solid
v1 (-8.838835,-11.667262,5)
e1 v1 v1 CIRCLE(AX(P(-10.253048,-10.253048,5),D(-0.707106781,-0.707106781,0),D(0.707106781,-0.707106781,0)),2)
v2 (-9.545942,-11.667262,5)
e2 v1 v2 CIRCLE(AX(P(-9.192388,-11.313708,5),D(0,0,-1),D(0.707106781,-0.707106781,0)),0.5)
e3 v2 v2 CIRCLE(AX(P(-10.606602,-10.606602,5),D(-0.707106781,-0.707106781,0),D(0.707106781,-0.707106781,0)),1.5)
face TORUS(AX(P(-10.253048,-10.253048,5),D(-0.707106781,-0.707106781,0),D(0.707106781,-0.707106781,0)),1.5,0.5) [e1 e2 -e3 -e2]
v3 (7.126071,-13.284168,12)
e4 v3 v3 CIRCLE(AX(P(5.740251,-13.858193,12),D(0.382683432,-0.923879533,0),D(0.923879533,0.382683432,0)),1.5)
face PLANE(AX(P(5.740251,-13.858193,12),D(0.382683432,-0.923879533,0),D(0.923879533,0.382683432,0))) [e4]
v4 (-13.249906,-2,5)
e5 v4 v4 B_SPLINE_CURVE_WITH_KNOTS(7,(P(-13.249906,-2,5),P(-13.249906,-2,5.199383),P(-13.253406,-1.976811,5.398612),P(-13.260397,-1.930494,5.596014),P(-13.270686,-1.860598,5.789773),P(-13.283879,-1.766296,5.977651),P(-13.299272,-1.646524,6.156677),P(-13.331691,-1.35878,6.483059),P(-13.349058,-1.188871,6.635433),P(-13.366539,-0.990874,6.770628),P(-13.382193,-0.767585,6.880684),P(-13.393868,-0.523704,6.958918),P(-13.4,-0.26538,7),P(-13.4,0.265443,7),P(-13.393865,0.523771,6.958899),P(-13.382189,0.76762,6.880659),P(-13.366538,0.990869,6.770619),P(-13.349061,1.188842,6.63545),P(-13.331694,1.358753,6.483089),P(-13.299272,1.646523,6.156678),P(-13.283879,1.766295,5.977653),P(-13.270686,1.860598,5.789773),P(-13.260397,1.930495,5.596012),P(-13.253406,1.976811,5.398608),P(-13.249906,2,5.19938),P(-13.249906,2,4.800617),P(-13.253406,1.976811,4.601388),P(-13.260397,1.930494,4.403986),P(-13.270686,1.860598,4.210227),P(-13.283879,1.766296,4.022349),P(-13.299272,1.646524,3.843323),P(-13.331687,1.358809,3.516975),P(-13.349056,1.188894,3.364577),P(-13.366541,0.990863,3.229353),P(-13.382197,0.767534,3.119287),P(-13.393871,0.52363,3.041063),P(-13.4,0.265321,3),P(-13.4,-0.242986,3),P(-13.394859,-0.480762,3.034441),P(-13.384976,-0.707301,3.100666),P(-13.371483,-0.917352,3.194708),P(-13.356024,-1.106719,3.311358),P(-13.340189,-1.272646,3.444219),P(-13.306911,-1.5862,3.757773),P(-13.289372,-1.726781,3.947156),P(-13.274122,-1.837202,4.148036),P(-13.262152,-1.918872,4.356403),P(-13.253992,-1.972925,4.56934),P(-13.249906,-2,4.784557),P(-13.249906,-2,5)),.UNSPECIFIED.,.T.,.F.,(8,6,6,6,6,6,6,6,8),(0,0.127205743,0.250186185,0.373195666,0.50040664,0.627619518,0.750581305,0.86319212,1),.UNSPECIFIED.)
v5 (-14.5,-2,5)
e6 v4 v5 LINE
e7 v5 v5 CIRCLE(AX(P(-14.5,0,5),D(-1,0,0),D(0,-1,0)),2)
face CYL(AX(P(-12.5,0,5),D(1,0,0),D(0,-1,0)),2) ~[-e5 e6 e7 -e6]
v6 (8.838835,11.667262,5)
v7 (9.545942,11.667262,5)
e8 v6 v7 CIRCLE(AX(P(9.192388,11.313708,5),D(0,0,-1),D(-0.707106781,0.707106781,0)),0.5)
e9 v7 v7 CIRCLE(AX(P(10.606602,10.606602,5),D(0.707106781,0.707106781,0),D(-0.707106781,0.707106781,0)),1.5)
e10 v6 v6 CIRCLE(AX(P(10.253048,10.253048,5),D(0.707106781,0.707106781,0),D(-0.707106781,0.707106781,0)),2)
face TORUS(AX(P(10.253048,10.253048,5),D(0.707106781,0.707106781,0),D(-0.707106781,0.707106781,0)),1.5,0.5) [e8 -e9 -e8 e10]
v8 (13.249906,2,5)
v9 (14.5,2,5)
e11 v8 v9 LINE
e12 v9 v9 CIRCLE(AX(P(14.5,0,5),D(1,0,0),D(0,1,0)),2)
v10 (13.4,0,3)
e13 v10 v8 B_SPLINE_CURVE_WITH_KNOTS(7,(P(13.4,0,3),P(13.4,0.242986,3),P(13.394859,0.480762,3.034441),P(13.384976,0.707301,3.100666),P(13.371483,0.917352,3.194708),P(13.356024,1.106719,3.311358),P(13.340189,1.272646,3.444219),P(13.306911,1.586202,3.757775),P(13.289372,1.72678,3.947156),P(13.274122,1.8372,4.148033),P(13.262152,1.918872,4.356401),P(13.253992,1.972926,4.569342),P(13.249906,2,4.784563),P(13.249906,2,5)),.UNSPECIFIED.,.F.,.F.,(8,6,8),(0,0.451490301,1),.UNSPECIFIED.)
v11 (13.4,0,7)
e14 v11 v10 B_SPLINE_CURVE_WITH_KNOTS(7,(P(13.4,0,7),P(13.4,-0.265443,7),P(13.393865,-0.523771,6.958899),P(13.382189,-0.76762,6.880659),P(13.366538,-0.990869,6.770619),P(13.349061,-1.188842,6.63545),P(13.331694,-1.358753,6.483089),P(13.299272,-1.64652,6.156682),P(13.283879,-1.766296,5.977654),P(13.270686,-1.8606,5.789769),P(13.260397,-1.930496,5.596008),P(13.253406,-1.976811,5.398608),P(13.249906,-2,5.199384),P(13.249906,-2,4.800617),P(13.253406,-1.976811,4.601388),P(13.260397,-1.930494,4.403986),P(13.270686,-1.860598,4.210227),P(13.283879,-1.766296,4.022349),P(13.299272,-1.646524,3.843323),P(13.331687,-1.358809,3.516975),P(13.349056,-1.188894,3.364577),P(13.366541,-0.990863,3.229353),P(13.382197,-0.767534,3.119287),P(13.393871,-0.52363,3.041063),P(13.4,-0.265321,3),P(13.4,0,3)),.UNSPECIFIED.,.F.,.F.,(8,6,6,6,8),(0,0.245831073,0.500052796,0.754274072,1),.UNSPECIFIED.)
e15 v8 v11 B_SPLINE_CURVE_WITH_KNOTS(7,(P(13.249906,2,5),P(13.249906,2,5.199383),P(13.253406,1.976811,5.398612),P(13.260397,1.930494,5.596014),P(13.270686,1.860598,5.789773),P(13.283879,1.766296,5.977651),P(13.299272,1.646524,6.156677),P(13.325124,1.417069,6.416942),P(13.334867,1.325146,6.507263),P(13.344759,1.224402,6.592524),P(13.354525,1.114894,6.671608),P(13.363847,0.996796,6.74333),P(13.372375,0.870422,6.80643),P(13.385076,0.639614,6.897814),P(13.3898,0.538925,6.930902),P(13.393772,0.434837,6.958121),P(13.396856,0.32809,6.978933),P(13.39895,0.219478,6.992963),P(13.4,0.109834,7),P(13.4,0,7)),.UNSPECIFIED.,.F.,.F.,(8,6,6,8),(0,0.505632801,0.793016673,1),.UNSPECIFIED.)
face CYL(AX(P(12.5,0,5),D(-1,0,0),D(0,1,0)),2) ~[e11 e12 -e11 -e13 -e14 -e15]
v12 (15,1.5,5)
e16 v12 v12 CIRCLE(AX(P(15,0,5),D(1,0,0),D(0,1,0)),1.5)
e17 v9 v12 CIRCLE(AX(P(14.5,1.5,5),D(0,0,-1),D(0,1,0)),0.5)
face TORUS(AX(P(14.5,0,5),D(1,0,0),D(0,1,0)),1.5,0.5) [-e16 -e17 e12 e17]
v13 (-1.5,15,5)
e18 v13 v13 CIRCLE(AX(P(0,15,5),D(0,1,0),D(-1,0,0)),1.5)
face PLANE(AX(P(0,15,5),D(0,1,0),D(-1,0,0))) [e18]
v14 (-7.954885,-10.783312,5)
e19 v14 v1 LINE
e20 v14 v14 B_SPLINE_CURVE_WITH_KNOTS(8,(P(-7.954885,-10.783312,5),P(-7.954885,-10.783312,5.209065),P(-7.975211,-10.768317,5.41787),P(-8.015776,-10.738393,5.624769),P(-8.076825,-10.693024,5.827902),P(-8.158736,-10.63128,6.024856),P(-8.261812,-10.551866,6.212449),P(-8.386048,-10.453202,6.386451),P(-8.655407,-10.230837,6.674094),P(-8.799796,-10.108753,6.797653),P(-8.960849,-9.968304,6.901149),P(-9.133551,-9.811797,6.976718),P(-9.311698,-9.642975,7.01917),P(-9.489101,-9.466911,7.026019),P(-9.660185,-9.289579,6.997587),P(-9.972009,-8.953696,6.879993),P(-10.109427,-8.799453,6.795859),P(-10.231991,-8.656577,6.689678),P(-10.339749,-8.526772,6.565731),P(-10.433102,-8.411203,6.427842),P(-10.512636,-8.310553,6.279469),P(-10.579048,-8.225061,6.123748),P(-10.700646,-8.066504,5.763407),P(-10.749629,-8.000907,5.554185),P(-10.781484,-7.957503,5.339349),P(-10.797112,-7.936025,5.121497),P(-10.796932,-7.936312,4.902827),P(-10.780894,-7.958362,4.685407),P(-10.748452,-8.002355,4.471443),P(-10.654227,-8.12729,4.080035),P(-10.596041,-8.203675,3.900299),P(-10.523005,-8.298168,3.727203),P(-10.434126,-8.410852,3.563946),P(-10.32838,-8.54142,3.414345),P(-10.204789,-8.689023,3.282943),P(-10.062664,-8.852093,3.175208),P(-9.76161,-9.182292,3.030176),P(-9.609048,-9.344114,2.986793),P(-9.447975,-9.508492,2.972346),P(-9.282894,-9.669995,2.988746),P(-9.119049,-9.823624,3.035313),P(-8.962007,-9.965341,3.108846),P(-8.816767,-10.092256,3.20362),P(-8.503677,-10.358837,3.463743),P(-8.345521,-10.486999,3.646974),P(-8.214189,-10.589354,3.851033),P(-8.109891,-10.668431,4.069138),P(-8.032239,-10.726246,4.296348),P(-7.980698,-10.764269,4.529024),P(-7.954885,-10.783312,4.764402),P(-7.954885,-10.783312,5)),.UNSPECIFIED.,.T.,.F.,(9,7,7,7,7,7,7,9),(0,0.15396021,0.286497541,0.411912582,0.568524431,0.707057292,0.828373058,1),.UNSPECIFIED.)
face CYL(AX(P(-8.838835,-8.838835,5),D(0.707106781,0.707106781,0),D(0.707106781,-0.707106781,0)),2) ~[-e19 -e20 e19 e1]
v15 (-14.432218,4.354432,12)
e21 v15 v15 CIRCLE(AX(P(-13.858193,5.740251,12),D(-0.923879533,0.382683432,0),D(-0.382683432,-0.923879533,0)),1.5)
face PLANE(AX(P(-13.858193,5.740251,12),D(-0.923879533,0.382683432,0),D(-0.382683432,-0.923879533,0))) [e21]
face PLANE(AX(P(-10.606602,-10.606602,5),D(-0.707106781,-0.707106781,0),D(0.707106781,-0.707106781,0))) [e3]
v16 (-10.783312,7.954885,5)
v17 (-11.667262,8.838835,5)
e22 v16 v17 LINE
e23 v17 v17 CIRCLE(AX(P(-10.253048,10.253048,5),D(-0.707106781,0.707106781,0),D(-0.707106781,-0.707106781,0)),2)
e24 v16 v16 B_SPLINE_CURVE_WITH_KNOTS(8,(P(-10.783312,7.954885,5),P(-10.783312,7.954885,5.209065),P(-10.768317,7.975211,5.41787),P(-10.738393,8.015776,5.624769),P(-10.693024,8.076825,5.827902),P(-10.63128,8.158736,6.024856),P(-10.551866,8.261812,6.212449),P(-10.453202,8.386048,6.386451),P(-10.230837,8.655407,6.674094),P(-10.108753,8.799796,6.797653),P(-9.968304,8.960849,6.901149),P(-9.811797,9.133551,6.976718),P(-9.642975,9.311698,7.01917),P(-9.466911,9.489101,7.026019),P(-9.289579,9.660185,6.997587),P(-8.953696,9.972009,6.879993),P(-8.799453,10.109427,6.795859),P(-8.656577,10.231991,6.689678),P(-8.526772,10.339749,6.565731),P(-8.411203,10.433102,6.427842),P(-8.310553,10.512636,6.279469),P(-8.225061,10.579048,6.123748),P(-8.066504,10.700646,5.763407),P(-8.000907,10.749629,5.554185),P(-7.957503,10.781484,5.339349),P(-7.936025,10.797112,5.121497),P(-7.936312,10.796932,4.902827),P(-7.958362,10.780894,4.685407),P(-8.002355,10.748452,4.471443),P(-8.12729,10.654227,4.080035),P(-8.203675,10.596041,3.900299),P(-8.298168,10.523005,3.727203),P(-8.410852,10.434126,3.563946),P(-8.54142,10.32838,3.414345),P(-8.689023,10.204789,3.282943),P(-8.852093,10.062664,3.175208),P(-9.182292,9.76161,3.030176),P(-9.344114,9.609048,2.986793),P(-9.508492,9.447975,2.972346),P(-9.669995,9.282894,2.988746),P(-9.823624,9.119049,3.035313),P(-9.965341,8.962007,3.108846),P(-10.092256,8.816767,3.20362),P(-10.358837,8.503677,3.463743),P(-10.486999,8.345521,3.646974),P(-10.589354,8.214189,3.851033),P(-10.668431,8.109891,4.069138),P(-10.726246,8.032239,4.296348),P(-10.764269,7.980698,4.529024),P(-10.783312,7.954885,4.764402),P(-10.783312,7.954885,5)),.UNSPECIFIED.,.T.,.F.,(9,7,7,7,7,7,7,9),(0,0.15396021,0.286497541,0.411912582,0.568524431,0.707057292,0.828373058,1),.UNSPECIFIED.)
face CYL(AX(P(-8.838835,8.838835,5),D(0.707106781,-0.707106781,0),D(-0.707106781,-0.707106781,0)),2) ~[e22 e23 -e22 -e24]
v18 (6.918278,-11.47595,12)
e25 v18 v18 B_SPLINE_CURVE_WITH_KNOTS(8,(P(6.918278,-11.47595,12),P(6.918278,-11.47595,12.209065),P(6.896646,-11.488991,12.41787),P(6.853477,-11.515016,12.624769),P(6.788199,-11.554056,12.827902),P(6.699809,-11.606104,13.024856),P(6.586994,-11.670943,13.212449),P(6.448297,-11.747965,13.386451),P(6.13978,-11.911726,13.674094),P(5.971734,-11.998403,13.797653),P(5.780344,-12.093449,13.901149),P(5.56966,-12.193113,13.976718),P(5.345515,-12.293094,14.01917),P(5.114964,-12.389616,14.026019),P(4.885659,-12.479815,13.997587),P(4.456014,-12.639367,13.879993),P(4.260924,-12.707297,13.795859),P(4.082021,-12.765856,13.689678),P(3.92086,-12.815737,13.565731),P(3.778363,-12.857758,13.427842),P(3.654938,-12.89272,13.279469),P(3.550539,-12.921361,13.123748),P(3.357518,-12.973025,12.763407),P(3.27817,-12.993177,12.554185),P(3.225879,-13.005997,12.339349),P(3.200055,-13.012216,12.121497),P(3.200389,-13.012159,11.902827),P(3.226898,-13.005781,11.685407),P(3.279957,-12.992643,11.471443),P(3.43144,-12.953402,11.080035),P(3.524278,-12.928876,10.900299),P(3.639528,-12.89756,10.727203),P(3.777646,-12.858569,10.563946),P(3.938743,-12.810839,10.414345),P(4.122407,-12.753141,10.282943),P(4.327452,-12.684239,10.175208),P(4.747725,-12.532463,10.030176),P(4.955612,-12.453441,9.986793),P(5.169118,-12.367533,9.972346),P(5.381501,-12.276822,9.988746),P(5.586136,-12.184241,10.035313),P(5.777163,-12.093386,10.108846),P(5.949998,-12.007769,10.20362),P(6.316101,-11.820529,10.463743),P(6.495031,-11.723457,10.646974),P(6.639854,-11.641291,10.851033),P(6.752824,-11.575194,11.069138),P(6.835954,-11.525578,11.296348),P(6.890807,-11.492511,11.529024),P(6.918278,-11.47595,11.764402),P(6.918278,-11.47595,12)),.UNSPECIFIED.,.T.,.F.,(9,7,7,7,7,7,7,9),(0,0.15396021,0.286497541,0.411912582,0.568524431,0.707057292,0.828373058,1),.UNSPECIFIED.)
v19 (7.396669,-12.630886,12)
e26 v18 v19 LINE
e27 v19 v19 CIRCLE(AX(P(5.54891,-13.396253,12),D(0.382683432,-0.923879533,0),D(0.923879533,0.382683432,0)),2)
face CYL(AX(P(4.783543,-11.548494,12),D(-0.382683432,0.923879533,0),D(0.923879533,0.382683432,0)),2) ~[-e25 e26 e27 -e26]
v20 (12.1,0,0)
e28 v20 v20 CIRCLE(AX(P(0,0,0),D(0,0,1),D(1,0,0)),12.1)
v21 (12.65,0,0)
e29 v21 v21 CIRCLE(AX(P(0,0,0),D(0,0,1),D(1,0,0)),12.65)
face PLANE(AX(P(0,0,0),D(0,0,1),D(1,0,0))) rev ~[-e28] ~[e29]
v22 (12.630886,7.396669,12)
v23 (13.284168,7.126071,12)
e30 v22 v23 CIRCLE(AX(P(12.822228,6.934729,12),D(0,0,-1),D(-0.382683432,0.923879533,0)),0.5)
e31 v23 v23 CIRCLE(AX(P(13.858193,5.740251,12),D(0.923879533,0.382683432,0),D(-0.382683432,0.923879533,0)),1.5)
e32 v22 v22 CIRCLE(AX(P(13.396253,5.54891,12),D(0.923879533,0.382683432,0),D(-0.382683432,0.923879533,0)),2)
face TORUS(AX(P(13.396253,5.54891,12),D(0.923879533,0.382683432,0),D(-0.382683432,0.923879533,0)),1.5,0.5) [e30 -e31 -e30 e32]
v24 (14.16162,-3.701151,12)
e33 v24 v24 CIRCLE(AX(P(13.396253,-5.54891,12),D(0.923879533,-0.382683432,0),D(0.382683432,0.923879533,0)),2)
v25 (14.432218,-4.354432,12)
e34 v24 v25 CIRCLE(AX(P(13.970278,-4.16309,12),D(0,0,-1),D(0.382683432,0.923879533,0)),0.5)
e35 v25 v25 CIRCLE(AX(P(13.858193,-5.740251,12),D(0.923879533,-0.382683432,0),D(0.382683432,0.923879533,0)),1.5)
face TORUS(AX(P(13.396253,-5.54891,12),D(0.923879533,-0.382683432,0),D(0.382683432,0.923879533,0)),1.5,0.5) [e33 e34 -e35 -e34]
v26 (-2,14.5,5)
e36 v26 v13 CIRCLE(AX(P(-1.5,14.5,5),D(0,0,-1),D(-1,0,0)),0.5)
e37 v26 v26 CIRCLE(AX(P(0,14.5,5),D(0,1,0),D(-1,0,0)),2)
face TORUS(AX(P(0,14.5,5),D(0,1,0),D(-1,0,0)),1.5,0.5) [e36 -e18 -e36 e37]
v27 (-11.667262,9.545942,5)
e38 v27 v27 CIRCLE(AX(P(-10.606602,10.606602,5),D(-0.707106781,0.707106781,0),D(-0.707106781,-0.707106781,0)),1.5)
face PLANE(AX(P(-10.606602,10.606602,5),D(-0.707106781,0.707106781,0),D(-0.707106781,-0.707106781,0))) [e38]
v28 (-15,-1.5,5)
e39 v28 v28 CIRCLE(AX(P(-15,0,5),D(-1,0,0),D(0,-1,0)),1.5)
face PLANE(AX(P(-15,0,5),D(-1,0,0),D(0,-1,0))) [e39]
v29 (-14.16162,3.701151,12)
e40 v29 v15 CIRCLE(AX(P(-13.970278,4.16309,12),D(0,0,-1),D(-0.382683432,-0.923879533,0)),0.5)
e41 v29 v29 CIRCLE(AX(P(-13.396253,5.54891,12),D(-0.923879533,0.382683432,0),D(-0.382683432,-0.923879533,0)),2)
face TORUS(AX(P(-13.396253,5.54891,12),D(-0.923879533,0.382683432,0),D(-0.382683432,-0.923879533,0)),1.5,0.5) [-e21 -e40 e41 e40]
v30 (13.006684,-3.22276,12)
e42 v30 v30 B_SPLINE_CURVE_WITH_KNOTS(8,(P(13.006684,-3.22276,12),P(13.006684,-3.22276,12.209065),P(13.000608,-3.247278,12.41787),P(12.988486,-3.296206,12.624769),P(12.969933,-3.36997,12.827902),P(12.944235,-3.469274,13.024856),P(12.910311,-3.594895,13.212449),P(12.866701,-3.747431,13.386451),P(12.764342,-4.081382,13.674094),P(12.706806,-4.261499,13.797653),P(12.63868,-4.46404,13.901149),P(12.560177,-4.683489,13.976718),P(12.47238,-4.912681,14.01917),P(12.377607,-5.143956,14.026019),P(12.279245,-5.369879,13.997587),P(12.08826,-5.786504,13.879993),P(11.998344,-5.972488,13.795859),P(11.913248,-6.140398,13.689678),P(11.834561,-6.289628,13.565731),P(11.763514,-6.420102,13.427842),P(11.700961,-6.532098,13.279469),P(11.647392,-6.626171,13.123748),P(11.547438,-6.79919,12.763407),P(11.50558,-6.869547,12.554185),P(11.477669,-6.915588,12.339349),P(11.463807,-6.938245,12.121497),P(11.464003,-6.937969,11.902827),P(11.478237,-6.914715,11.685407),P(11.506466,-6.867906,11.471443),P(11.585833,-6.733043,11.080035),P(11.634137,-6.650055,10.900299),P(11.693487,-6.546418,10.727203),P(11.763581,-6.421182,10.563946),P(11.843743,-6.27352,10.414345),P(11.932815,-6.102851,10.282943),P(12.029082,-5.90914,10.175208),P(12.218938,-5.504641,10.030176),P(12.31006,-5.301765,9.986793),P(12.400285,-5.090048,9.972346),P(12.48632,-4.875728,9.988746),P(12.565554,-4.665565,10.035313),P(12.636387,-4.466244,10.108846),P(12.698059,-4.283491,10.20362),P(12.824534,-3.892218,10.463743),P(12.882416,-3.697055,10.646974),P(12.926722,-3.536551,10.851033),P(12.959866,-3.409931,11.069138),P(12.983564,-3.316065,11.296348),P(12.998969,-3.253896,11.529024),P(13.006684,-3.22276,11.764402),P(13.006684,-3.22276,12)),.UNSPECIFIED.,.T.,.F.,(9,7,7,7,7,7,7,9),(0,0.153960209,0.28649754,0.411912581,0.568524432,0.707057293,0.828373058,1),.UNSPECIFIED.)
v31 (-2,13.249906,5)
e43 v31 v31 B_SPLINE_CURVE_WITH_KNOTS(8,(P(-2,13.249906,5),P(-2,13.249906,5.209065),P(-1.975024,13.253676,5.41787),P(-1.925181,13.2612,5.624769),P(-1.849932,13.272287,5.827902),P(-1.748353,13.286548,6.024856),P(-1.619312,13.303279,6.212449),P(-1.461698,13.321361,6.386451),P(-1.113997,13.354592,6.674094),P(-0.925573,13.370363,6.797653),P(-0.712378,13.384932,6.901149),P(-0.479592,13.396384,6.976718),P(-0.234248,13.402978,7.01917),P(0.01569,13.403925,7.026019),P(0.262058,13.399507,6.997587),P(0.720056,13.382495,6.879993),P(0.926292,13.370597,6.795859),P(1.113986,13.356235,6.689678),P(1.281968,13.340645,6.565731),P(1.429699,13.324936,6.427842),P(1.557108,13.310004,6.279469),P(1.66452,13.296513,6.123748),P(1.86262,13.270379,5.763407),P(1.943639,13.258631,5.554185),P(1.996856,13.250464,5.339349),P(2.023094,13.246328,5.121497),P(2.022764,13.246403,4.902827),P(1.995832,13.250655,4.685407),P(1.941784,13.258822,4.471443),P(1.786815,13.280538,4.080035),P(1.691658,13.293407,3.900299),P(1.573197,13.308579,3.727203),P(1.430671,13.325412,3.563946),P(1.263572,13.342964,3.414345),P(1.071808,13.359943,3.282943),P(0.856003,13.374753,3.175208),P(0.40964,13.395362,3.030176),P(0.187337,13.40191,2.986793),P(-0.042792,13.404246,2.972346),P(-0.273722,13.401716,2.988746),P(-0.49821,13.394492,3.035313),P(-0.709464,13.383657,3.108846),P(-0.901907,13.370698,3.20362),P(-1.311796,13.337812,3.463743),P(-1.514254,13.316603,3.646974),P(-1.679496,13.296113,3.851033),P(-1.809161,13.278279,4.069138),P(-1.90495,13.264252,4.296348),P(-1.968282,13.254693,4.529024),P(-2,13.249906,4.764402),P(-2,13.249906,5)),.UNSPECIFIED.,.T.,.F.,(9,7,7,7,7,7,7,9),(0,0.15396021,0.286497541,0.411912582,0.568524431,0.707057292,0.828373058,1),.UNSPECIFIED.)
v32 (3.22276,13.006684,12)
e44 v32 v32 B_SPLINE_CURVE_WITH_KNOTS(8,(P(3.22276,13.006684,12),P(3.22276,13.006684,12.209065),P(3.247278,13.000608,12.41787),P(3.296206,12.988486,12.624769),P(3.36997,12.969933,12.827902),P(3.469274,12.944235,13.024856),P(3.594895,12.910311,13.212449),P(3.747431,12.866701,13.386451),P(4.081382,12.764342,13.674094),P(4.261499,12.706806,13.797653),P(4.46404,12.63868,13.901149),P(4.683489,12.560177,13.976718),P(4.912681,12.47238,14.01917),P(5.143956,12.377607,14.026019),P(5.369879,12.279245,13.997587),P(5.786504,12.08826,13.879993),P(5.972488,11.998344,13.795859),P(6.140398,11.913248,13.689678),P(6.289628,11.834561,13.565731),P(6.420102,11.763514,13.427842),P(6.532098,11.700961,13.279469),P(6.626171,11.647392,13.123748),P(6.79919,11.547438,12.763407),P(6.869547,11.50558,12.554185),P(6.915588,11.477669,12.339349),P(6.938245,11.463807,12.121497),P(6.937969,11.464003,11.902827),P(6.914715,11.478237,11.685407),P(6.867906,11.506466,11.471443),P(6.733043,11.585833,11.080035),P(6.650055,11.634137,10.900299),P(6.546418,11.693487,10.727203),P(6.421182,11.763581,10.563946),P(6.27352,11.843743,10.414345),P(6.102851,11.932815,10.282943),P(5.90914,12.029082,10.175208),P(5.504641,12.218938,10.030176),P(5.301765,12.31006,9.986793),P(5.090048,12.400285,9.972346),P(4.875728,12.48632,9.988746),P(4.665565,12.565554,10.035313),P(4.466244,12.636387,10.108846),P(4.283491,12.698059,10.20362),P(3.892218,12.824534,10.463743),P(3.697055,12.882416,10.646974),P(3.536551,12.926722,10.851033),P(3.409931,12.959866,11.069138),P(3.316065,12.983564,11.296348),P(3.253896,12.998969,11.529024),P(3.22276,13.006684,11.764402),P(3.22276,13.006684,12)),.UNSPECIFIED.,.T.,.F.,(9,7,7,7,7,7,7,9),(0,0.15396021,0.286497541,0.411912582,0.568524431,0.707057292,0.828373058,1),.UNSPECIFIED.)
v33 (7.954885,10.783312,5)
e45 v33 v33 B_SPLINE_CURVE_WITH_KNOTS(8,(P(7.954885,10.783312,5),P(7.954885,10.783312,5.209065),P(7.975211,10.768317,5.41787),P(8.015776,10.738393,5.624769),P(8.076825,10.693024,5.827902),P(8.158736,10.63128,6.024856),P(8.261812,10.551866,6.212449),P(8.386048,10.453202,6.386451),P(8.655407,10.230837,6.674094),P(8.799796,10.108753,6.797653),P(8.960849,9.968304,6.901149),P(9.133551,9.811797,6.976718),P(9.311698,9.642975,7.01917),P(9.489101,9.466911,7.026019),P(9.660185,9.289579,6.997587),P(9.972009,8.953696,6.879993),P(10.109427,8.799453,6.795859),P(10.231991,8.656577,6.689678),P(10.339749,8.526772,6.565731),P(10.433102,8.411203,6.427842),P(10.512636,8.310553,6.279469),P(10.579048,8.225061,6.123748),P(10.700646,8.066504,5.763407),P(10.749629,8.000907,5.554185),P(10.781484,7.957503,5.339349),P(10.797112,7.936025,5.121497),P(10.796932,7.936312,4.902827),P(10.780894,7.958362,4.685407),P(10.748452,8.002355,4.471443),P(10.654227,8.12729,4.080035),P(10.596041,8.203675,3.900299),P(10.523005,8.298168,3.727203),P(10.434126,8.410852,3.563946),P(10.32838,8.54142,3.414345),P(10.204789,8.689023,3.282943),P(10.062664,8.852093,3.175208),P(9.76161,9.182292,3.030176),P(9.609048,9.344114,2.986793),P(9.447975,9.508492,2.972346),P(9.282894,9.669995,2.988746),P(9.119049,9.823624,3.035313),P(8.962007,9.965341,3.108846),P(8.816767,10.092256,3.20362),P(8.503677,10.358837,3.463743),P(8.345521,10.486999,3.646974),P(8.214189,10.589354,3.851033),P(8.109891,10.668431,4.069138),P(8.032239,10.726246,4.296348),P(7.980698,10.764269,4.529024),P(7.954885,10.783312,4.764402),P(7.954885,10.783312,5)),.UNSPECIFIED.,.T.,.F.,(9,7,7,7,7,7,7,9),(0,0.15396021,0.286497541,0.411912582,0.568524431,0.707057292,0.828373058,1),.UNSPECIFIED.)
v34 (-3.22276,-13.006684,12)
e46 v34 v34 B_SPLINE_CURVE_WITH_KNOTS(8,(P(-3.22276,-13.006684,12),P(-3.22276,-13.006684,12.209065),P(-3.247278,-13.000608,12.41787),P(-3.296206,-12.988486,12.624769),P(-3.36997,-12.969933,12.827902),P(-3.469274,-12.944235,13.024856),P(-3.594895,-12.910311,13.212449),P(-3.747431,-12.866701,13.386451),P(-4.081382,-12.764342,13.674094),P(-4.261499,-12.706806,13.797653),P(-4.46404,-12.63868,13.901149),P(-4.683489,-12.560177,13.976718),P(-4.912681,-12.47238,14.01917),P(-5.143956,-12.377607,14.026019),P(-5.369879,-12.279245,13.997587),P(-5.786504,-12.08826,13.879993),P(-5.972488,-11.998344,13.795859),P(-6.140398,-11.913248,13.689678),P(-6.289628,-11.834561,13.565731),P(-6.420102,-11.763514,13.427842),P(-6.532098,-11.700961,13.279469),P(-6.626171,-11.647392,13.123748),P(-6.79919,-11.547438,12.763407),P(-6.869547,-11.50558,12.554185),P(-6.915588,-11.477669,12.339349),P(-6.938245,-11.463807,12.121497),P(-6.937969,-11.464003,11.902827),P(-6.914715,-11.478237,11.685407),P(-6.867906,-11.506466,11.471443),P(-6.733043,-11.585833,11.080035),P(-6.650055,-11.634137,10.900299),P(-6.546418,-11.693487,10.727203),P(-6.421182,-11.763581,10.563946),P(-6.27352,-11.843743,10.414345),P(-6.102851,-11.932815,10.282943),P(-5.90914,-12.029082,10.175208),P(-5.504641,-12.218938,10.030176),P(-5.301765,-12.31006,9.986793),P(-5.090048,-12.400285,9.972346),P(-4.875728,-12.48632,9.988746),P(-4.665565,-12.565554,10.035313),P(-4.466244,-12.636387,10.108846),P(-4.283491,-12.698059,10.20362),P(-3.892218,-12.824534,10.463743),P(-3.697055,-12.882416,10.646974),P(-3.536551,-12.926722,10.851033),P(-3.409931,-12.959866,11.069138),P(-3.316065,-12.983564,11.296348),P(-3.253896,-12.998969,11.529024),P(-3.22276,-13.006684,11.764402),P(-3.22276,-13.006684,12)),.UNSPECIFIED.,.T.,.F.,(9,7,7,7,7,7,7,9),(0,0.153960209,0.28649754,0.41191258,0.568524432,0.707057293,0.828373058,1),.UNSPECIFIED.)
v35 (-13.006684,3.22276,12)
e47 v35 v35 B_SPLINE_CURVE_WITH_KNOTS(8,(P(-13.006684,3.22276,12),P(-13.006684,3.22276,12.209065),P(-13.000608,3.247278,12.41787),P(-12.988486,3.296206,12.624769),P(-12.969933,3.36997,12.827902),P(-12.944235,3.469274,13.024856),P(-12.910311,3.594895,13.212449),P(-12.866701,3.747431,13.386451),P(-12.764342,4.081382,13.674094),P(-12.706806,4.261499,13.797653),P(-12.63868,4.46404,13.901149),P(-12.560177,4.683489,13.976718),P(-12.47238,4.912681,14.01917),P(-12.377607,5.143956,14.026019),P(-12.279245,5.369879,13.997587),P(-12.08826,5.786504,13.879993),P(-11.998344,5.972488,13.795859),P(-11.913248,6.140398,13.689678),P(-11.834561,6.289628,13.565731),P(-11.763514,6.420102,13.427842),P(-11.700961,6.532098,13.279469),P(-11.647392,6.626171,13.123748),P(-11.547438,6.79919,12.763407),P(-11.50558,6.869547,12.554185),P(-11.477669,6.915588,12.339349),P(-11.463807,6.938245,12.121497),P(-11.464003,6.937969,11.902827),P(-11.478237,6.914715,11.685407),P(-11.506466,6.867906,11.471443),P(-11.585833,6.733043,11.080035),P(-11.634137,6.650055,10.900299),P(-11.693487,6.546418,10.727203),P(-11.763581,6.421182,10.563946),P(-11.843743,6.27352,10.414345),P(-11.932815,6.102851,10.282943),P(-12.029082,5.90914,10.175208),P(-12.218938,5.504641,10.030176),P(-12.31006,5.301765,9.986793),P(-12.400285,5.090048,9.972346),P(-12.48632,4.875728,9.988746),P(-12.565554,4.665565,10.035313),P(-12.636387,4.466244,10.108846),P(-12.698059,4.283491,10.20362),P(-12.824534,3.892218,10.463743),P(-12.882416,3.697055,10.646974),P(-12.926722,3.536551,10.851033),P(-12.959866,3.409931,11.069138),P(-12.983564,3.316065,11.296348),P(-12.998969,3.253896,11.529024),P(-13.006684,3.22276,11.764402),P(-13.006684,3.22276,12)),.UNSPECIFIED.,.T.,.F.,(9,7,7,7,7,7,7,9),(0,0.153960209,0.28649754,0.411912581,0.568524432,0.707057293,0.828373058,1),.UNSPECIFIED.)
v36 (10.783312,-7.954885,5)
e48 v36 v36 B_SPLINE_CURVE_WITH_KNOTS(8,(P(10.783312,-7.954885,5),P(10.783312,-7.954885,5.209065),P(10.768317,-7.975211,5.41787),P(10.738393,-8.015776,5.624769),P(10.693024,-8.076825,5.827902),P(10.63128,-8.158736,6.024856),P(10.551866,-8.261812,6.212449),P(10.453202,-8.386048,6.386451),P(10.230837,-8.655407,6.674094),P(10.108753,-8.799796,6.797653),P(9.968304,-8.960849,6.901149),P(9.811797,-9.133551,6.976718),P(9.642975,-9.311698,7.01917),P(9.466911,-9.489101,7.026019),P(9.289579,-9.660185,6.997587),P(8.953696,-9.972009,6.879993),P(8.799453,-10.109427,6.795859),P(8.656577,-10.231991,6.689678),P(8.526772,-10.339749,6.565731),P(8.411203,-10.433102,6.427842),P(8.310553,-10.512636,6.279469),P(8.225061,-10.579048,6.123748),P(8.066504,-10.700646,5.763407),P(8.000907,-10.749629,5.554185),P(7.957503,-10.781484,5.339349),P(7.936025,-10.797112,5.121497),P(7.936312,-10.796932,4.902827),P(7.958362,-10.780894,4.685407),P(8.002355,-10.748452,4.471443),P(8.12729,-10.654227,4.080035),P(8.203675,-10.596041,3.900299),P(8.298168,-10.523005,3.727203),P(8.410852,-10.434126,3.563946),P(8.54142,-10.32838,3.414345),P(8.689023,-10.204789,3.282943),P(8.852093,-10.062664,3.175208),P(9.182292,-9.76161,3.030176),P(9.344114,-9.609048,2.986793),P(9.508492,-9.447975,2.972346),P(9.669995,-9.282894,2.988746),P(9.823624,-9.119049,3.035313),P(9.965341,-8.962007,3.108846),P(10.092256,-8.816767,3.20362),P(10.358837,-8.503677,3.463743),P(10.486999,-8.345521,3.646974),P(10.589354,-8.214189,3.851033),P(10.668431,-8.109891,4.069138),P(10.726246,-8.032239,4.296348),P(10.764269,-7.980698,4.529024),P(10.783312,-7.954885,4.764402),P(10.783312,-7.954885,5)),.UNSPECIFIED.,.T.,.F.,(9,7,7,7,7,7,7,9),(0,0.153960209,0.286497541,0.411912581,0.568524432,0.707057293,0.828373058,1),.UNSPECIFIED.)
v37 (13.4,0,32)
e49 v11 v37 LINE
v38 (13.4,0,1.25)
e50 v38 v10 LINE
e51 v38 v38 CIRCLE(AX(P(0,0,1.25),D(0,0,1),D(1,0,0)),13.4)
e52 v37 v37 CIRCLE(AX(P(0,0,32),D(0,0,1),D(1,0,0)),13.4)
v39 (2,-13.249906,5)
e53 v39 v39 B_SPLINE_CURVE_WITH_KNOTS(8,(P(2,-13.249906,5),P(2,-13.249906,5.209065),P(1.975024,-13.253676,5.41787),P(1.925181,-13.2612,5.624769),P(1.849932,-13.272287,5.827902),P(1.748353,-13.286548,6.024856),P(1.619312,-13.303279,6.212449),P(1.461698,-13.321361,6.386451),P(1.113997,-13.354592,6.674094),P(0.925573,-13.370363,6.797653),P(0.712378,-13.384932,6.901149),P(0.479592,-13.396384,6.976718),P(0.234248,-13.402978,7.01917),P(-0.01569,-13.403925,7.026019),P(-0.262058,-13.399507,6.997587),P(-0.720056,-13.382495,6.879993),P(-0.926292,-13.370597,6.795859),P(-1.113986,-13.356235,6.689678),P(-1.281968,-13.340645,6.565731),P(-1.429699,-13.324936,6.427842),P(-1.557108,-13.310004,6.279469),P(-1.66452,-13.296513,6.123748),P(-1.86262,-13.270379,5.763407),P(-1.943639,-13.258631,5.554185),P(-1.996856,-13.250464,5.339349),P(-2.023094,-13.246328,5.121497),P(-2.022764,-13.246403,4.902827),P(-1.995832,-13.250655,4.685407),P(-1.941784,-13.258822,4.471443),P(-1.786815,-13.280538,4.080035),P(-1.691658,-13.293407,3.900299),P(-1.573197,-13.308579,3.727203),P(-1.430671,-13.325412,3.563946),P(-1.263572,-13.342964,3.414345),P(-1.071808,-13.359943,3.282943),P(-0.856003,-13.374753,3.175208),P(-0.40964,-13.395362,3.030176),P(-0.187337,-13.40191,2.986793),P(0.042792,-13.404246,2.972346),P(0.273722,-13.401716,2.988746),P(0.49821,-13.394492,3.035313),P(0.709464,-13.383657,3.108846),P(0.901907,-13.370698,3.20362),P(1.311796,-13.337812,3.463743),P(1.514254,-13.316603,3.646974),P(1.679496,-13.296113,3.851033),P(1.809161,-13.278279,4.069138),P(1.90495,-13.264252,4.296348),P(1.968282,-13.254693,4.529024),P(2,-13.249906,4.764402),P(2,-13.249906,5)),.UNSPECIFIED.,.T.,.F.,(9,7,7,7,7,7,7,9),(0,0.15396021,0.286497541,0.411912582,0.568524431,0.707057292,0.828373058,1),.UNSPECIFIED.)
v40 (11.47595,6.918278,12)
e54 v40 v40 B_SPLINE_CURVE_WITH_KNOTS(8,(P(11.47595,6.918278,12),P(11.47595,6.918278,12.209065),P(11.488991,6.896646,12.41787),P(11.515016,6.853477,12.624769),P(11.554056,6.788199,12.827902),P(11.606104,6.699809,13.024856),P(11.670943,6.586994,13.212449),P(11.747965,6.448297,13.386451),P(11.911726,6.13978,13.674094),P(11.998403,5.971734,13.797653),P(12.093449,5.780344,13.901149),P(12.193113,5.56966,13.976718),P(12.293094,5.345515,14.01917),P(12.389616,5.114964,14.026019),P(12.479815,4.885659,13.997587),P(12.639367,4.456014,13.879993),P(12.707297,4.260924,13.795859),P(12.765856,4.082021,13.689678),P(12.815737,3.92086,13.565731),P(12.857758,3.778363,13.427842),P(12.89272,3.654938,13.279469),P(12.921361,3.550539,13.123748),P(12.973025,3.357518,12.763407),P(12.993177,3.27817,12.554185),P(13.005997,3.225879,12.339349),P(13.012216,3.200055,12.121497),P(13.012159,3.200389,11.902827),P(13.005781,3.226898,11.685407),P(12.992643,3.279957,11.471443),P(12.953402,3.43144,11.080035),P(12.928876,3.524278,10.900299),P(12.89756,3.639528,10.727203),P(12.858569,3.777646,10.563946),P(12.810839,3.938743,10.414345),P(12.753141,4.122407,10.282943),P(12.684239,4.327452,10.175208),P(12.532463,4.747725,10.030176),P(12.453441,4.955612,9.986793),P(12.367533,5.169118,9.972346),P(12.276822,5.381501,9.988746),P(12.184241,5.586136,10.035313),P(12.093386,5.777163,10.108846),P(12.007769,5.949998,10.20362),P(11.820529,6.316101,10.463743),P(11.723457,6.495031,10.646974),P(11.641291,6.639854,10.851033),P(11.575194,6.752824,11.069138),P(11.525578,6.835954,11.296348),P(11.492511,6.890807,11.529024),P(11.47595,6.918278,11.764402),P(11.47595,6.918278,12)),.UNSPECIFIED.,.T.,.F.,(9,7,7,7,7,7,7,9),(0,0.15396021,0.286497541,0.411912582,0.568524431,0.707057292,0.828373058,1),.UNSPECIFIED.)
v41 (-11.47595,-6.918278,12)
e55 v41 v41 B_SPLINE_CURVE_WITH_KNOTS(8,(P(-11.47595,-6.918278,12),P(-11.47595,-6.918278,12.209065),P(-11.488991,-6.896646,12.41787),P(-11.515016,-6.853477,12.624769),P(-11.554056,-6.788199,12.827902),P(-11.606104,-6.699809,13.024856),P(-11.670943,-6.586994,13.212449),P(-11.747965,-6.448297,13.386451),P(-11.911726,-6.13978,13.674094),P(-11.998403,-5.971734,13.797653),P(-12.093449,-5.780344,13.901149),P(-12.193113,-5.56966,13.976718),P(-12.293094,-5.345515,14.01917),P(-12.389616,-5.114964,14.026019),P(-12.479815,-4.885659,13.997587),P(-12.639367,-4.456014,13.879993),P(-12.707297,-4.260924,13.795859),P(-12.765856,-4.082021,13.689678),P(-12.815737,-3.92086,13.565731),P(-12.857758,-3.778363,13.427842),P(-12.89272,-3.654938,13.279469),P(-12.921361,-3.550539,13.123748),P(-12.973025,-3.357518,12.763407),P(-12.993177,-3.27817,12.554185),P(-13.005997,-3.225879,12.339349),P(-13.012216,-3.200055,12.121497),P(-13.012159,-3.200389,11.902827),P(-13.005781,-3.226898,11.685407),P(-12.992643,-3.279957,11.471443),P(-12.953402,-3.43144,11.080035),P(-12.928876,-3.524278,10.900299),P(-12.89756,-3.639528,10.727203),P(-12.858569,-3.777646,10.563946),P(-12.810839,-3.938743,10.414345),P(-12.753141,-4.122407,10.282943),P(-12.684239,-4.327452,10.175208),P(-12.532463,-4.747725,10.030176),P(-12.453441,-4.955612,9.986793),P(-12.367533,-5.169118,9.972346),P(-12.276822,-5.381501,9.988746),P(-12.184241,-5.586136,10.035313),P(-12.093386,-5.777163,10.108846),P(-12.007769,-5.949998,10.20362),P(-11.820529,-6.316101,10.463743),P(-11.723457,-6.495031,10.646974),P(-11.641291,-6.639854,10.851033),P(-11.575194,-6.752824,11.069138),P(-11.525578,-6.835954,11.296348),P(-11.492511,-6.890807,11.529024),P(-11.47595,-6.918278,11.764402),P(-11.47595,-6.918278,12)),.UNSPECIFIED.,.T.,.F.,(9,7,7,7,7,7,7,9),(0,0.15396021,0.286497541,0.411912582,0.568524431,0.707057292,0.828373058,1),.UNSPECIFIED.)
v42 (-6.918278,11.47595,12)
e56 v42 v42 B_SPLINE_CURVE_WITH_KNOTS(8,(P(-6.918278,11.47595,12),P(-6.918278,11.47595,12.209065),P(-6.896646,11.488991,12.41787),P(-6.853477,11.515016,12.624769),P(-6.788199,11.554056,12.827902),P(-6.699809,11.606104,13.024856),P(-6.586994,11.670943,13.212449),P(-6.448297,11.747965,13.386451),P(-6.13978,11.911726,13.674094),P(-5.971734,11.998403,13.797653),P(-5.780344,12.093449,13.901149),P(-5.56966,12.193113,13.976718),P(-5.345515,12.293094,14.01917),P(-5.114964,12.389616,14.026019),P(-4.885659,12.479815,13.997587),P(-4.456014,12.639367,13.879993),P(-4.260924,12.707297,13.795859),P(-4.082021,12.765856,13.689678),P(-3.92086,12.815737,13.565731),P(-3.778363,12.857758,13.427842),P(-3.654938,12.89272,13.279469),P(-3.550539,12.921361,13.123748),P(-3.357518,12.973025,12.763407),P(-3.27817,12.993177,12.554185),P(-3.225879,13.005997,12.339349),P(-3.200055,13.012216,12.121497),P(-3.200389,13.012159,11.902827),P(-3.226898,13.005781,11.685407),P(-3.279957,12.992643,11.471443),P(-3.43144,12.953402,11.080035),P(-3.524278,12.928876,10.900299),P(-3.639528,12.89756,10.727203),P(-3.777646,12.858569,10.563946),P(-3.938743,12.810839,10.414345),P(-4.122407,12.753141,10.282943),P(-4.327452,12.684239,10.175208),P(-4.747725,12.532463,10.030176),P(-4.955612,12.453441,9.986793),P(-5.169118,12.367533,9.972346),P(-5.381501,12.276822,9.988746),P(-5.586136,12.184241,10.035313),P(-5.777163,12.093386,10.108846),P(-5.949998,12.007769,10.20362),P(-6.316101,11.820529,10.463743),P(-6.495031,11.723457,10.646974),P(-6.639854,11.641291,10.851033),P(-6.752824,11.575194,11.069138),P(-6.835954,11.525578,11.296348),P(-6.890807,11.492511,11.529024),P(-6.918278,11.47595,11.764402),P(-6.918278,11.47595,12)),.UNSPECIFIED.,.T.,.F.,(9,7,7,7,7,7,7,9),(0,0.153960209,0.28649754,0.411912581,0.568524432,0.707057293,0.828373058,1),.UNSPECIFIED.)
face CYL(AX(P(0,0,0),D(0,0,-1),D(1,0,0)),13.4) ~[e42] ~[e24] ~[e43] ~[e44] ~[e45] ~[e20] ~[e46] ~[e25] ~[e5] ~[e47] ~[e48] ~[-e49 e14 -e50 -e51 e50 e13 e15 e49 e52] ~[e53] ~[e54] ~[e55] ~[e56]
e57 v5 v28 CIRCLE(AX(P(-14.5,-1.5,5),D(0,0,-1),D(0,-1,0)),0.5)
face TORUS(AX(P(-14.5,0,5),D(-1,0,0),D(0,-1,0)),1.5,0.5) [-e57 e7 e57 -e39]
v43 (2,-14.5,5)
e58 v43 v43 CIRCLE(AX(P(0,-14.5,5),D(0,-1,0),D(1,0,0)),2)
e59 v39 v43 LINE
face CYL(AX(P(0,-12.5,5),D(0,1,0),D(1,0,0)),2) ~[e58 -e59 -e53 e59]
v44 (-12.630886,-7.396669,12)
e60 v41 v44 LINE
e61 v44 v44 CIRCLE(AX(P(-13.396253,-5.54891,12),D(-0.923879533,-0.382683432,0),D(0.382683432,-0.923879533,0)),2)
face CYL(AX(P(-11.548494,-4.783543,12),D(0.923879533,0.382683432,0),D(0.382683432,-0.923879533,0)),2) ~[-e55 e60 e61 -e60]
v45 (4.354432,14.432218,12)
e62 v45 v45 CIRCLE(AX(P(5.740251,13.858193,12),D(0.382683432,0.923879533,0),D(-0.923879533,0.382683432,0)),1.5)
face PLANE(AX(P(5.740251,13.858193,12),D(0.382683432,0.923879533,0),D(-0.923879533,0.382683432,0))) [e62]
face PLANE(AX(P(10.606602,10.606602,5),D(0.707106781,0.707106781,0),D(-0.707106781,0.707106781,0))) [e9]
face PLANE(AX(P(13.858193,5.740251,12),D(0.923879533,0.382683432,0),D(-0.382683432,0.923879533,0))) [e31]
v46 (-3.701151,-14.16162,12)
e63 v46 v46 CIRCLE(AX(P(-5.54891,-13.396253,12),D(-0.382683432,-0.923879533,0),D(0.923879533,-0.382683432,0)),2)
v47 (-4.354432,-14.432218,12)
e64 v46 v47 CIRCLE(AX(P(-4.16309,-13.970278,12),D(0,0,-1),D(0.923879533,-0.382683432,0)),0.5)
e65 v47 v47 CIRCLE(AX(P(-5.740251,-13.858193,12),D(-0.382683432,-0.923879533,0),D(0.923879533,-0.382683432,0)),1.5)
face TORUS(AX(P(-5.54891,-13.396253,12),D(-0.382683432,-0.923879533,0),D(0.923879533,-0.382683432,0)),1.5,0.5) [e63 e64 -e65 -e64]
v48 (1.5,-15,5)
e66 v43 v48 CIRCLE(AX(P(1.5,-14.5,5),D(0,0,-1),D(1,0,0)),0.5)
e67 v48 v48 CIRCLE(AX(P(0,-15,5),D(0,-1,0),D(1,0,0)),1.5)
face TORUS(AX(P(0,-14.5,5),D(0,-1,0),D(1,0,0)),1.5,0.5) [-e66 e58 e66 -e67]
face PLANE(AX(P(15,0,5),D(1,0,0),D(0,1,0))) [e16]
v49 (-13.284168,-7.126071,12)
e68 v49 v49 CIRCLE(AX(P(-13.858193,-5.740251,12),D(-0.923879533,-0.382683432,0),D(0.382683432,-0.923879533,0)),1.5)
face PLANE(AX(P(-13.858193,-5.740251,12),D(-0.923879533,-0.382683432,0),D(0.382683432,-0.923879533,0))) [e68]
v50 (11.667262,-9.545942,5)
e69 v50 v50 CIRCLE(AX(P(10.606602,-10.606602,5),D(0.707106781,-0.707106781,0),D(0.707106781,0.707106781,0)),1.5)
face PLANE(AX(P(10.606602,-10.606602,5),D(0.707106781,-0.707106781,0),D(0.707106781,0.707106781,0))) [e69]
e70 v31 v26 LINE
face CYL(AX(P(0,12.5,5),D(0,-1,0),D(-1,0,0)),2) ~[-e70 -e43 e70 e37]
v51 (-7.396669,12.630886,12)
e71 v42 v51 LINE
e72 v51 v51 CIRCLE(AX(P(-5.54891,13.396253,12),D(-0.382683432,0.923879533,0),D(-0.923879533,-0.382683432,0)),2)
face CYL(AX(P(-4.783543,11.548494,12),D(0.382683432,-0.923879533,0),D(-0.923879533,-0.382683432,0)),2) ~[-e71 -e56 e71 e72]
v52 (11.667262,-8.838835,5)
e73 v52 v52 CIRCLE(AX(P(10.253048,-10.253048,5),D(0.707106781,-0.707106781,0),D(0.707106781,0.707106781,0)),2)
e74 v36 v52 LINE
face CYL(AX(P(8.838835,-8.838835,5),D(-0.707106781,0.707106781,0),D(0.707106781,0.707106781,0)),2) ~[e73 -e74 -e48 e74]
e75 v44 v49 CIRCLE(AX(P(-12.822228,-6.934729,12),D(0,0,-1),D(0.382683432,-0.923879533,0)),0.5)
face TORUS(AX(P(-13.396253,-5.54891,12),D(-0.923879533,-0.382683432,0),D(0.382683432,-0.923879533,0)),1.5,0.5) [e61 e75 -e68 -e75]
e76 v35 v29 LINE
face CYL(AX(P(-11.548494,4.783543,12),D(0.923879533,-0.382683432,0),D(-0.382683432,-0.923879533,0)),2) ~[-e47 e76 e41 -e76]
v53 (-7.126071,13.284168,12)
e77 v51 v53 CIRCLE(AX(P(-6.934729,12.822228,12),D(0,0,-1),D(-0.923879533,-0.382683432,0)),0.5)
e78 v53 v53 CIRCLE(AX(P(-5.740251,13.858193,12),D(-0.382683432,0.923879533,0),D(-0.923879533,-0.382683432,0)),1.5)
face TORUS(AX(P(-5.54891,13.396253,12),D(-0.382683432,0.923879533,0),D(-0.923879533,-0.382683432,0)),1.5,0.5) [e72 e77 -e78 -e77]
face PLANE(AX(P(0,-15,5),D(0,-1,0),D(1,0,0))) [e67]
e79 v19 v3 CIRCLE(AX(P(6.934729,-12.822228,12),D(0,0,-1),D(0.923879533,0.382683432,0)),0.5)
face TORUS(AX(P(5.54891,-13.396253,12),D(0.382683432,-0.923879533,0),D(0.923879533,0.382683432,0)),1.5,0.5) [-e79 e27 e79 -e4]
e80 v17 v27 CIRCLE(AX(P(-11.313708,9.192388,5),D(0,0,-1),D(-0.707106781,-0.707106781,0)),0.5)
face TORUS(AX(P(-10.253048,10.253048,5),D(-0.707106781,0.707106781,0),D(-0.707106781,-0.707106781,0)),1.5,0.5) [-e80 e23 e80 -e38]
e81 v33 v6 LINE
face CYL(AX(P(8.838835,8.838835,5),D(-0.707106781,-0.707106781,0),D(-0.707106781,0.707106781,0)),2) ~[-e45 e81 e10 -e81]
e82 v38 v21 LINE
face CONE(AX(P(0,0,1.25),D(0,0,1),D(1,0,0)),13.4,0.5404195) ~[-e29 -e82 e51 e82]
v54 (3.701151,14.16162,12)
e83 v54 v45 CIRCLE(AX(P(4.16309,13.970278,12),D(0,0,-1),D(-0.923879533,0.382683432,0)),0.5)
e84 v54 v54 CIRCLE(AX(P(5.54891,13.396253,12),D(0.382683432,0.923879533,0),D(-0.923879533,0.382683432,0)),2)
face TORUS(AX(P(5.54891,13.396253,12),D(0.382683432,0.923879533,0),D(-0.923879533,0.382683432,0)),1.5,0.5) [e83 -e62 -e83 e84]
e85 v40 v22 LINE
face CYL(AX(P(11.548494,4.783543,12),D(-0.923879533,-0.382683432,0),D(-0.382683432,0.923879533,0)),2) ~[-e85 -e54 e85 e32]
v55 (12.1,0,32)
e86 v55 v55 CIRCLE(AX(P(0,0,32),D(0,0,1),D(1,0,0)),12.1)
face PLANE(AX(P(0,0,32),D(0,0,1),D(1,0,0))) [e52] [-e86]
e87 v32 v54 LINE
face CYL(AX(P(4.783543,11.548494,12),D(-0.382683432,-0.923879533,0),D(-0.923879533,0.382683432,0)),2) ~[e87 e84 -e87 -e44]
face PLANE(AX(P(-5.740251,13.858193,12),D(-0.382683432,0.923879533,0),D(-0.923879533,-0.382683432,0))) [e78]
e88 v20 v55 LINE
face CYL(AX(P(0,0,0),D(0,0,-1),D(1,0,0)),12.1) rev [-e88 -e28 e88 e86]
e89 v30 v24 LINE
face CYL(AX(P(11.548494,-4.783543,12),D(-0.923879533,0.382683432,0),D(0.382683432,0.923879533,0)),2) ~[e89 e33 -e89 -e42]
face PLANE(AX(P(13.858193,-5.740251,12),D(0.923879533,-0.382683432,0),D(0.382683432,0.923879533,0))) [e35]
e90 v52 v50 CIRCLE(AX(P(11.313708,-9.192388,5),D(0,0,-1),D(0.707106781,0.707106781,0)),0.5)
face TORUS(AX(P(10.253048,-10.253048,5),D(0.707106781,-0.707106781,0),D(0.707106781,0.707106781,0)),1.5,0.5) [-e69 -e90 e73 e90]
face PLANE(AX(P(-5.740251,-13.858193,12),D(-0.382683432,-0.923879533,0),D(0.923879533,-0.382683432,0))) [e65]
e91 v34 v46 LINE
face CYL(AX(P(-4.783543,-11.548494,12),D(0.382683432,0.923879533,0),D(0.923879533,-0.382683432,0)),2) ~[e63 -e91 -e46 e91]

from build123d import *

# Parameters (mm, degrees)
F0_R      = 13.4
F0_R_2    = 12.1
F1_DEPTH  = 32
F2_R      = 2
F3_DEPTH  = 2.5
F4_R      = 0.5
F6_COUNT  = 8
F8_ANGLE  = 22.5
F9_COUNT  = 8
F10_SIZE2 = 0.75
F10_SIZE  = 1.25


with BuildPart() as f1:
    # F0 (on Top) → F1 (new body)
    with BuildSketch(Plane.XY):
        Circle(F0_R)
        Circle(F0_R_2, mode=Mode.SUBTRACT)
    extrude(amount=F1_DEPTH)



with BuildPart() as f3:
    # F2 (on Front) → F3 (new body)
    with BuildSketch(Plane.XZ):
        Circle(F2_R)
    extrude(amount=F3_DEPTH)

    # F4
    f4_edges = [f3.edges().sort_by_distance(p)[0] for p in [
        (-2, -2.5, 0),
    ]]
    fillet(f4_edges, radius=F4_R)


with BuildPart() as f3_1:
    # F5: moved
    add(f3.part.moved(Location((0, -12.5, 5))))


with BuildPart() as f6_1:
    # F6: instance of F3
    add(f3_1.part.rotate(Axis((0, 0, 0), (0, 0, -1)), 1 * 360 / F6_COUNT))


with BuildPart() as f6_2:
    # F6: instance of F3
    add(f3_1.part.rotate(Axis((0, 0, 0), (0, 0, -1)), 2 * 360 / F6_COUNT))


with BuildPart() as f6_3:
    # F6: instance of F3
    add(f3_1.part.rotate(Axis((0, 0, 0), (0, 0, -1)), 3 * 360 / F6_COUNT))


with BuildPart() as f6_4:
    # F6: instance of F3
    add(f3_1.part.rotate(Axis((0, 0, 0), (0, 0, -1)), 4 * 360 / F6_COUNT))


with BuildPart() as f6_5:
    # F6: instance of F3
    add(f3_1.part.rotate(Axis((0, 0, 0), (0, 0, -1)), 5 * 360 / F6_COUNT))


with BuildPart() as f6_6:
    # F6: instance of F3
    add(f3_1.part.rotate(Axis((0, 0, 0), (0, 0, -1)), 6 * 360 / F6_COUNT))


with BuildPart() as f6_7:
    # F6: instance of F3
    add(f3_1.part.rotate(Axis((0, 0, 0), (0, 0, -1)), 7 * 360 / F6_COUNT))


with BuildPart() as f7_1:
    # F7: copy of F3
    add(f3_1.part.moved(Location((0, 0, 7))))


with BuildPart() as f7_1_1:
    # F8: moved
    add(f7_1.part.rotate(Axis((0, 0, 0), (0, 0, -1)), F8_ANGLE))


with BuildPart() as f1_1:
    add(f1.part)

    add(f3_1.part)  # F9 merges F3

    add(f6_1.part)  # F9 merges F6_1

    add(f6_2.part)  # F9 merges F6_2

    add(f6_3.part)  # F9 merges F6_3

    add(f6_4.part)  # F9 merges F6_4

    add(f6_5.part)  # F9 merges F6_5

    add(f6_6.part)  # F9 merges F6_6

    add(f6_7.part)  # F9 merges F6_7

    add(f7_1_1.part)  # F9 merges F7_1
    # F9: F7_1 ×8 about axis
    f9_axis = Axis((0, 0, 0), (0, 0, -1))
    for i in range(1, F9_COUNT):
        add(f7_1_1.part.rotate(f9_axis, i * 360 / F9_COUNT))

    # F10
    f10_edges = [f1_1.edges().sort_by_distance(p)[0] for p in [
        (-13.4, 0, 0),
    ]]
    f10_side = f1_1.faces().sort_by_distance((-13.4, 0, 16))[0]
    chamfer(f10_edges, length=F10_SIZE, length2=F10_SIZE2, reference=f10_side)


solid = f1_1.part
